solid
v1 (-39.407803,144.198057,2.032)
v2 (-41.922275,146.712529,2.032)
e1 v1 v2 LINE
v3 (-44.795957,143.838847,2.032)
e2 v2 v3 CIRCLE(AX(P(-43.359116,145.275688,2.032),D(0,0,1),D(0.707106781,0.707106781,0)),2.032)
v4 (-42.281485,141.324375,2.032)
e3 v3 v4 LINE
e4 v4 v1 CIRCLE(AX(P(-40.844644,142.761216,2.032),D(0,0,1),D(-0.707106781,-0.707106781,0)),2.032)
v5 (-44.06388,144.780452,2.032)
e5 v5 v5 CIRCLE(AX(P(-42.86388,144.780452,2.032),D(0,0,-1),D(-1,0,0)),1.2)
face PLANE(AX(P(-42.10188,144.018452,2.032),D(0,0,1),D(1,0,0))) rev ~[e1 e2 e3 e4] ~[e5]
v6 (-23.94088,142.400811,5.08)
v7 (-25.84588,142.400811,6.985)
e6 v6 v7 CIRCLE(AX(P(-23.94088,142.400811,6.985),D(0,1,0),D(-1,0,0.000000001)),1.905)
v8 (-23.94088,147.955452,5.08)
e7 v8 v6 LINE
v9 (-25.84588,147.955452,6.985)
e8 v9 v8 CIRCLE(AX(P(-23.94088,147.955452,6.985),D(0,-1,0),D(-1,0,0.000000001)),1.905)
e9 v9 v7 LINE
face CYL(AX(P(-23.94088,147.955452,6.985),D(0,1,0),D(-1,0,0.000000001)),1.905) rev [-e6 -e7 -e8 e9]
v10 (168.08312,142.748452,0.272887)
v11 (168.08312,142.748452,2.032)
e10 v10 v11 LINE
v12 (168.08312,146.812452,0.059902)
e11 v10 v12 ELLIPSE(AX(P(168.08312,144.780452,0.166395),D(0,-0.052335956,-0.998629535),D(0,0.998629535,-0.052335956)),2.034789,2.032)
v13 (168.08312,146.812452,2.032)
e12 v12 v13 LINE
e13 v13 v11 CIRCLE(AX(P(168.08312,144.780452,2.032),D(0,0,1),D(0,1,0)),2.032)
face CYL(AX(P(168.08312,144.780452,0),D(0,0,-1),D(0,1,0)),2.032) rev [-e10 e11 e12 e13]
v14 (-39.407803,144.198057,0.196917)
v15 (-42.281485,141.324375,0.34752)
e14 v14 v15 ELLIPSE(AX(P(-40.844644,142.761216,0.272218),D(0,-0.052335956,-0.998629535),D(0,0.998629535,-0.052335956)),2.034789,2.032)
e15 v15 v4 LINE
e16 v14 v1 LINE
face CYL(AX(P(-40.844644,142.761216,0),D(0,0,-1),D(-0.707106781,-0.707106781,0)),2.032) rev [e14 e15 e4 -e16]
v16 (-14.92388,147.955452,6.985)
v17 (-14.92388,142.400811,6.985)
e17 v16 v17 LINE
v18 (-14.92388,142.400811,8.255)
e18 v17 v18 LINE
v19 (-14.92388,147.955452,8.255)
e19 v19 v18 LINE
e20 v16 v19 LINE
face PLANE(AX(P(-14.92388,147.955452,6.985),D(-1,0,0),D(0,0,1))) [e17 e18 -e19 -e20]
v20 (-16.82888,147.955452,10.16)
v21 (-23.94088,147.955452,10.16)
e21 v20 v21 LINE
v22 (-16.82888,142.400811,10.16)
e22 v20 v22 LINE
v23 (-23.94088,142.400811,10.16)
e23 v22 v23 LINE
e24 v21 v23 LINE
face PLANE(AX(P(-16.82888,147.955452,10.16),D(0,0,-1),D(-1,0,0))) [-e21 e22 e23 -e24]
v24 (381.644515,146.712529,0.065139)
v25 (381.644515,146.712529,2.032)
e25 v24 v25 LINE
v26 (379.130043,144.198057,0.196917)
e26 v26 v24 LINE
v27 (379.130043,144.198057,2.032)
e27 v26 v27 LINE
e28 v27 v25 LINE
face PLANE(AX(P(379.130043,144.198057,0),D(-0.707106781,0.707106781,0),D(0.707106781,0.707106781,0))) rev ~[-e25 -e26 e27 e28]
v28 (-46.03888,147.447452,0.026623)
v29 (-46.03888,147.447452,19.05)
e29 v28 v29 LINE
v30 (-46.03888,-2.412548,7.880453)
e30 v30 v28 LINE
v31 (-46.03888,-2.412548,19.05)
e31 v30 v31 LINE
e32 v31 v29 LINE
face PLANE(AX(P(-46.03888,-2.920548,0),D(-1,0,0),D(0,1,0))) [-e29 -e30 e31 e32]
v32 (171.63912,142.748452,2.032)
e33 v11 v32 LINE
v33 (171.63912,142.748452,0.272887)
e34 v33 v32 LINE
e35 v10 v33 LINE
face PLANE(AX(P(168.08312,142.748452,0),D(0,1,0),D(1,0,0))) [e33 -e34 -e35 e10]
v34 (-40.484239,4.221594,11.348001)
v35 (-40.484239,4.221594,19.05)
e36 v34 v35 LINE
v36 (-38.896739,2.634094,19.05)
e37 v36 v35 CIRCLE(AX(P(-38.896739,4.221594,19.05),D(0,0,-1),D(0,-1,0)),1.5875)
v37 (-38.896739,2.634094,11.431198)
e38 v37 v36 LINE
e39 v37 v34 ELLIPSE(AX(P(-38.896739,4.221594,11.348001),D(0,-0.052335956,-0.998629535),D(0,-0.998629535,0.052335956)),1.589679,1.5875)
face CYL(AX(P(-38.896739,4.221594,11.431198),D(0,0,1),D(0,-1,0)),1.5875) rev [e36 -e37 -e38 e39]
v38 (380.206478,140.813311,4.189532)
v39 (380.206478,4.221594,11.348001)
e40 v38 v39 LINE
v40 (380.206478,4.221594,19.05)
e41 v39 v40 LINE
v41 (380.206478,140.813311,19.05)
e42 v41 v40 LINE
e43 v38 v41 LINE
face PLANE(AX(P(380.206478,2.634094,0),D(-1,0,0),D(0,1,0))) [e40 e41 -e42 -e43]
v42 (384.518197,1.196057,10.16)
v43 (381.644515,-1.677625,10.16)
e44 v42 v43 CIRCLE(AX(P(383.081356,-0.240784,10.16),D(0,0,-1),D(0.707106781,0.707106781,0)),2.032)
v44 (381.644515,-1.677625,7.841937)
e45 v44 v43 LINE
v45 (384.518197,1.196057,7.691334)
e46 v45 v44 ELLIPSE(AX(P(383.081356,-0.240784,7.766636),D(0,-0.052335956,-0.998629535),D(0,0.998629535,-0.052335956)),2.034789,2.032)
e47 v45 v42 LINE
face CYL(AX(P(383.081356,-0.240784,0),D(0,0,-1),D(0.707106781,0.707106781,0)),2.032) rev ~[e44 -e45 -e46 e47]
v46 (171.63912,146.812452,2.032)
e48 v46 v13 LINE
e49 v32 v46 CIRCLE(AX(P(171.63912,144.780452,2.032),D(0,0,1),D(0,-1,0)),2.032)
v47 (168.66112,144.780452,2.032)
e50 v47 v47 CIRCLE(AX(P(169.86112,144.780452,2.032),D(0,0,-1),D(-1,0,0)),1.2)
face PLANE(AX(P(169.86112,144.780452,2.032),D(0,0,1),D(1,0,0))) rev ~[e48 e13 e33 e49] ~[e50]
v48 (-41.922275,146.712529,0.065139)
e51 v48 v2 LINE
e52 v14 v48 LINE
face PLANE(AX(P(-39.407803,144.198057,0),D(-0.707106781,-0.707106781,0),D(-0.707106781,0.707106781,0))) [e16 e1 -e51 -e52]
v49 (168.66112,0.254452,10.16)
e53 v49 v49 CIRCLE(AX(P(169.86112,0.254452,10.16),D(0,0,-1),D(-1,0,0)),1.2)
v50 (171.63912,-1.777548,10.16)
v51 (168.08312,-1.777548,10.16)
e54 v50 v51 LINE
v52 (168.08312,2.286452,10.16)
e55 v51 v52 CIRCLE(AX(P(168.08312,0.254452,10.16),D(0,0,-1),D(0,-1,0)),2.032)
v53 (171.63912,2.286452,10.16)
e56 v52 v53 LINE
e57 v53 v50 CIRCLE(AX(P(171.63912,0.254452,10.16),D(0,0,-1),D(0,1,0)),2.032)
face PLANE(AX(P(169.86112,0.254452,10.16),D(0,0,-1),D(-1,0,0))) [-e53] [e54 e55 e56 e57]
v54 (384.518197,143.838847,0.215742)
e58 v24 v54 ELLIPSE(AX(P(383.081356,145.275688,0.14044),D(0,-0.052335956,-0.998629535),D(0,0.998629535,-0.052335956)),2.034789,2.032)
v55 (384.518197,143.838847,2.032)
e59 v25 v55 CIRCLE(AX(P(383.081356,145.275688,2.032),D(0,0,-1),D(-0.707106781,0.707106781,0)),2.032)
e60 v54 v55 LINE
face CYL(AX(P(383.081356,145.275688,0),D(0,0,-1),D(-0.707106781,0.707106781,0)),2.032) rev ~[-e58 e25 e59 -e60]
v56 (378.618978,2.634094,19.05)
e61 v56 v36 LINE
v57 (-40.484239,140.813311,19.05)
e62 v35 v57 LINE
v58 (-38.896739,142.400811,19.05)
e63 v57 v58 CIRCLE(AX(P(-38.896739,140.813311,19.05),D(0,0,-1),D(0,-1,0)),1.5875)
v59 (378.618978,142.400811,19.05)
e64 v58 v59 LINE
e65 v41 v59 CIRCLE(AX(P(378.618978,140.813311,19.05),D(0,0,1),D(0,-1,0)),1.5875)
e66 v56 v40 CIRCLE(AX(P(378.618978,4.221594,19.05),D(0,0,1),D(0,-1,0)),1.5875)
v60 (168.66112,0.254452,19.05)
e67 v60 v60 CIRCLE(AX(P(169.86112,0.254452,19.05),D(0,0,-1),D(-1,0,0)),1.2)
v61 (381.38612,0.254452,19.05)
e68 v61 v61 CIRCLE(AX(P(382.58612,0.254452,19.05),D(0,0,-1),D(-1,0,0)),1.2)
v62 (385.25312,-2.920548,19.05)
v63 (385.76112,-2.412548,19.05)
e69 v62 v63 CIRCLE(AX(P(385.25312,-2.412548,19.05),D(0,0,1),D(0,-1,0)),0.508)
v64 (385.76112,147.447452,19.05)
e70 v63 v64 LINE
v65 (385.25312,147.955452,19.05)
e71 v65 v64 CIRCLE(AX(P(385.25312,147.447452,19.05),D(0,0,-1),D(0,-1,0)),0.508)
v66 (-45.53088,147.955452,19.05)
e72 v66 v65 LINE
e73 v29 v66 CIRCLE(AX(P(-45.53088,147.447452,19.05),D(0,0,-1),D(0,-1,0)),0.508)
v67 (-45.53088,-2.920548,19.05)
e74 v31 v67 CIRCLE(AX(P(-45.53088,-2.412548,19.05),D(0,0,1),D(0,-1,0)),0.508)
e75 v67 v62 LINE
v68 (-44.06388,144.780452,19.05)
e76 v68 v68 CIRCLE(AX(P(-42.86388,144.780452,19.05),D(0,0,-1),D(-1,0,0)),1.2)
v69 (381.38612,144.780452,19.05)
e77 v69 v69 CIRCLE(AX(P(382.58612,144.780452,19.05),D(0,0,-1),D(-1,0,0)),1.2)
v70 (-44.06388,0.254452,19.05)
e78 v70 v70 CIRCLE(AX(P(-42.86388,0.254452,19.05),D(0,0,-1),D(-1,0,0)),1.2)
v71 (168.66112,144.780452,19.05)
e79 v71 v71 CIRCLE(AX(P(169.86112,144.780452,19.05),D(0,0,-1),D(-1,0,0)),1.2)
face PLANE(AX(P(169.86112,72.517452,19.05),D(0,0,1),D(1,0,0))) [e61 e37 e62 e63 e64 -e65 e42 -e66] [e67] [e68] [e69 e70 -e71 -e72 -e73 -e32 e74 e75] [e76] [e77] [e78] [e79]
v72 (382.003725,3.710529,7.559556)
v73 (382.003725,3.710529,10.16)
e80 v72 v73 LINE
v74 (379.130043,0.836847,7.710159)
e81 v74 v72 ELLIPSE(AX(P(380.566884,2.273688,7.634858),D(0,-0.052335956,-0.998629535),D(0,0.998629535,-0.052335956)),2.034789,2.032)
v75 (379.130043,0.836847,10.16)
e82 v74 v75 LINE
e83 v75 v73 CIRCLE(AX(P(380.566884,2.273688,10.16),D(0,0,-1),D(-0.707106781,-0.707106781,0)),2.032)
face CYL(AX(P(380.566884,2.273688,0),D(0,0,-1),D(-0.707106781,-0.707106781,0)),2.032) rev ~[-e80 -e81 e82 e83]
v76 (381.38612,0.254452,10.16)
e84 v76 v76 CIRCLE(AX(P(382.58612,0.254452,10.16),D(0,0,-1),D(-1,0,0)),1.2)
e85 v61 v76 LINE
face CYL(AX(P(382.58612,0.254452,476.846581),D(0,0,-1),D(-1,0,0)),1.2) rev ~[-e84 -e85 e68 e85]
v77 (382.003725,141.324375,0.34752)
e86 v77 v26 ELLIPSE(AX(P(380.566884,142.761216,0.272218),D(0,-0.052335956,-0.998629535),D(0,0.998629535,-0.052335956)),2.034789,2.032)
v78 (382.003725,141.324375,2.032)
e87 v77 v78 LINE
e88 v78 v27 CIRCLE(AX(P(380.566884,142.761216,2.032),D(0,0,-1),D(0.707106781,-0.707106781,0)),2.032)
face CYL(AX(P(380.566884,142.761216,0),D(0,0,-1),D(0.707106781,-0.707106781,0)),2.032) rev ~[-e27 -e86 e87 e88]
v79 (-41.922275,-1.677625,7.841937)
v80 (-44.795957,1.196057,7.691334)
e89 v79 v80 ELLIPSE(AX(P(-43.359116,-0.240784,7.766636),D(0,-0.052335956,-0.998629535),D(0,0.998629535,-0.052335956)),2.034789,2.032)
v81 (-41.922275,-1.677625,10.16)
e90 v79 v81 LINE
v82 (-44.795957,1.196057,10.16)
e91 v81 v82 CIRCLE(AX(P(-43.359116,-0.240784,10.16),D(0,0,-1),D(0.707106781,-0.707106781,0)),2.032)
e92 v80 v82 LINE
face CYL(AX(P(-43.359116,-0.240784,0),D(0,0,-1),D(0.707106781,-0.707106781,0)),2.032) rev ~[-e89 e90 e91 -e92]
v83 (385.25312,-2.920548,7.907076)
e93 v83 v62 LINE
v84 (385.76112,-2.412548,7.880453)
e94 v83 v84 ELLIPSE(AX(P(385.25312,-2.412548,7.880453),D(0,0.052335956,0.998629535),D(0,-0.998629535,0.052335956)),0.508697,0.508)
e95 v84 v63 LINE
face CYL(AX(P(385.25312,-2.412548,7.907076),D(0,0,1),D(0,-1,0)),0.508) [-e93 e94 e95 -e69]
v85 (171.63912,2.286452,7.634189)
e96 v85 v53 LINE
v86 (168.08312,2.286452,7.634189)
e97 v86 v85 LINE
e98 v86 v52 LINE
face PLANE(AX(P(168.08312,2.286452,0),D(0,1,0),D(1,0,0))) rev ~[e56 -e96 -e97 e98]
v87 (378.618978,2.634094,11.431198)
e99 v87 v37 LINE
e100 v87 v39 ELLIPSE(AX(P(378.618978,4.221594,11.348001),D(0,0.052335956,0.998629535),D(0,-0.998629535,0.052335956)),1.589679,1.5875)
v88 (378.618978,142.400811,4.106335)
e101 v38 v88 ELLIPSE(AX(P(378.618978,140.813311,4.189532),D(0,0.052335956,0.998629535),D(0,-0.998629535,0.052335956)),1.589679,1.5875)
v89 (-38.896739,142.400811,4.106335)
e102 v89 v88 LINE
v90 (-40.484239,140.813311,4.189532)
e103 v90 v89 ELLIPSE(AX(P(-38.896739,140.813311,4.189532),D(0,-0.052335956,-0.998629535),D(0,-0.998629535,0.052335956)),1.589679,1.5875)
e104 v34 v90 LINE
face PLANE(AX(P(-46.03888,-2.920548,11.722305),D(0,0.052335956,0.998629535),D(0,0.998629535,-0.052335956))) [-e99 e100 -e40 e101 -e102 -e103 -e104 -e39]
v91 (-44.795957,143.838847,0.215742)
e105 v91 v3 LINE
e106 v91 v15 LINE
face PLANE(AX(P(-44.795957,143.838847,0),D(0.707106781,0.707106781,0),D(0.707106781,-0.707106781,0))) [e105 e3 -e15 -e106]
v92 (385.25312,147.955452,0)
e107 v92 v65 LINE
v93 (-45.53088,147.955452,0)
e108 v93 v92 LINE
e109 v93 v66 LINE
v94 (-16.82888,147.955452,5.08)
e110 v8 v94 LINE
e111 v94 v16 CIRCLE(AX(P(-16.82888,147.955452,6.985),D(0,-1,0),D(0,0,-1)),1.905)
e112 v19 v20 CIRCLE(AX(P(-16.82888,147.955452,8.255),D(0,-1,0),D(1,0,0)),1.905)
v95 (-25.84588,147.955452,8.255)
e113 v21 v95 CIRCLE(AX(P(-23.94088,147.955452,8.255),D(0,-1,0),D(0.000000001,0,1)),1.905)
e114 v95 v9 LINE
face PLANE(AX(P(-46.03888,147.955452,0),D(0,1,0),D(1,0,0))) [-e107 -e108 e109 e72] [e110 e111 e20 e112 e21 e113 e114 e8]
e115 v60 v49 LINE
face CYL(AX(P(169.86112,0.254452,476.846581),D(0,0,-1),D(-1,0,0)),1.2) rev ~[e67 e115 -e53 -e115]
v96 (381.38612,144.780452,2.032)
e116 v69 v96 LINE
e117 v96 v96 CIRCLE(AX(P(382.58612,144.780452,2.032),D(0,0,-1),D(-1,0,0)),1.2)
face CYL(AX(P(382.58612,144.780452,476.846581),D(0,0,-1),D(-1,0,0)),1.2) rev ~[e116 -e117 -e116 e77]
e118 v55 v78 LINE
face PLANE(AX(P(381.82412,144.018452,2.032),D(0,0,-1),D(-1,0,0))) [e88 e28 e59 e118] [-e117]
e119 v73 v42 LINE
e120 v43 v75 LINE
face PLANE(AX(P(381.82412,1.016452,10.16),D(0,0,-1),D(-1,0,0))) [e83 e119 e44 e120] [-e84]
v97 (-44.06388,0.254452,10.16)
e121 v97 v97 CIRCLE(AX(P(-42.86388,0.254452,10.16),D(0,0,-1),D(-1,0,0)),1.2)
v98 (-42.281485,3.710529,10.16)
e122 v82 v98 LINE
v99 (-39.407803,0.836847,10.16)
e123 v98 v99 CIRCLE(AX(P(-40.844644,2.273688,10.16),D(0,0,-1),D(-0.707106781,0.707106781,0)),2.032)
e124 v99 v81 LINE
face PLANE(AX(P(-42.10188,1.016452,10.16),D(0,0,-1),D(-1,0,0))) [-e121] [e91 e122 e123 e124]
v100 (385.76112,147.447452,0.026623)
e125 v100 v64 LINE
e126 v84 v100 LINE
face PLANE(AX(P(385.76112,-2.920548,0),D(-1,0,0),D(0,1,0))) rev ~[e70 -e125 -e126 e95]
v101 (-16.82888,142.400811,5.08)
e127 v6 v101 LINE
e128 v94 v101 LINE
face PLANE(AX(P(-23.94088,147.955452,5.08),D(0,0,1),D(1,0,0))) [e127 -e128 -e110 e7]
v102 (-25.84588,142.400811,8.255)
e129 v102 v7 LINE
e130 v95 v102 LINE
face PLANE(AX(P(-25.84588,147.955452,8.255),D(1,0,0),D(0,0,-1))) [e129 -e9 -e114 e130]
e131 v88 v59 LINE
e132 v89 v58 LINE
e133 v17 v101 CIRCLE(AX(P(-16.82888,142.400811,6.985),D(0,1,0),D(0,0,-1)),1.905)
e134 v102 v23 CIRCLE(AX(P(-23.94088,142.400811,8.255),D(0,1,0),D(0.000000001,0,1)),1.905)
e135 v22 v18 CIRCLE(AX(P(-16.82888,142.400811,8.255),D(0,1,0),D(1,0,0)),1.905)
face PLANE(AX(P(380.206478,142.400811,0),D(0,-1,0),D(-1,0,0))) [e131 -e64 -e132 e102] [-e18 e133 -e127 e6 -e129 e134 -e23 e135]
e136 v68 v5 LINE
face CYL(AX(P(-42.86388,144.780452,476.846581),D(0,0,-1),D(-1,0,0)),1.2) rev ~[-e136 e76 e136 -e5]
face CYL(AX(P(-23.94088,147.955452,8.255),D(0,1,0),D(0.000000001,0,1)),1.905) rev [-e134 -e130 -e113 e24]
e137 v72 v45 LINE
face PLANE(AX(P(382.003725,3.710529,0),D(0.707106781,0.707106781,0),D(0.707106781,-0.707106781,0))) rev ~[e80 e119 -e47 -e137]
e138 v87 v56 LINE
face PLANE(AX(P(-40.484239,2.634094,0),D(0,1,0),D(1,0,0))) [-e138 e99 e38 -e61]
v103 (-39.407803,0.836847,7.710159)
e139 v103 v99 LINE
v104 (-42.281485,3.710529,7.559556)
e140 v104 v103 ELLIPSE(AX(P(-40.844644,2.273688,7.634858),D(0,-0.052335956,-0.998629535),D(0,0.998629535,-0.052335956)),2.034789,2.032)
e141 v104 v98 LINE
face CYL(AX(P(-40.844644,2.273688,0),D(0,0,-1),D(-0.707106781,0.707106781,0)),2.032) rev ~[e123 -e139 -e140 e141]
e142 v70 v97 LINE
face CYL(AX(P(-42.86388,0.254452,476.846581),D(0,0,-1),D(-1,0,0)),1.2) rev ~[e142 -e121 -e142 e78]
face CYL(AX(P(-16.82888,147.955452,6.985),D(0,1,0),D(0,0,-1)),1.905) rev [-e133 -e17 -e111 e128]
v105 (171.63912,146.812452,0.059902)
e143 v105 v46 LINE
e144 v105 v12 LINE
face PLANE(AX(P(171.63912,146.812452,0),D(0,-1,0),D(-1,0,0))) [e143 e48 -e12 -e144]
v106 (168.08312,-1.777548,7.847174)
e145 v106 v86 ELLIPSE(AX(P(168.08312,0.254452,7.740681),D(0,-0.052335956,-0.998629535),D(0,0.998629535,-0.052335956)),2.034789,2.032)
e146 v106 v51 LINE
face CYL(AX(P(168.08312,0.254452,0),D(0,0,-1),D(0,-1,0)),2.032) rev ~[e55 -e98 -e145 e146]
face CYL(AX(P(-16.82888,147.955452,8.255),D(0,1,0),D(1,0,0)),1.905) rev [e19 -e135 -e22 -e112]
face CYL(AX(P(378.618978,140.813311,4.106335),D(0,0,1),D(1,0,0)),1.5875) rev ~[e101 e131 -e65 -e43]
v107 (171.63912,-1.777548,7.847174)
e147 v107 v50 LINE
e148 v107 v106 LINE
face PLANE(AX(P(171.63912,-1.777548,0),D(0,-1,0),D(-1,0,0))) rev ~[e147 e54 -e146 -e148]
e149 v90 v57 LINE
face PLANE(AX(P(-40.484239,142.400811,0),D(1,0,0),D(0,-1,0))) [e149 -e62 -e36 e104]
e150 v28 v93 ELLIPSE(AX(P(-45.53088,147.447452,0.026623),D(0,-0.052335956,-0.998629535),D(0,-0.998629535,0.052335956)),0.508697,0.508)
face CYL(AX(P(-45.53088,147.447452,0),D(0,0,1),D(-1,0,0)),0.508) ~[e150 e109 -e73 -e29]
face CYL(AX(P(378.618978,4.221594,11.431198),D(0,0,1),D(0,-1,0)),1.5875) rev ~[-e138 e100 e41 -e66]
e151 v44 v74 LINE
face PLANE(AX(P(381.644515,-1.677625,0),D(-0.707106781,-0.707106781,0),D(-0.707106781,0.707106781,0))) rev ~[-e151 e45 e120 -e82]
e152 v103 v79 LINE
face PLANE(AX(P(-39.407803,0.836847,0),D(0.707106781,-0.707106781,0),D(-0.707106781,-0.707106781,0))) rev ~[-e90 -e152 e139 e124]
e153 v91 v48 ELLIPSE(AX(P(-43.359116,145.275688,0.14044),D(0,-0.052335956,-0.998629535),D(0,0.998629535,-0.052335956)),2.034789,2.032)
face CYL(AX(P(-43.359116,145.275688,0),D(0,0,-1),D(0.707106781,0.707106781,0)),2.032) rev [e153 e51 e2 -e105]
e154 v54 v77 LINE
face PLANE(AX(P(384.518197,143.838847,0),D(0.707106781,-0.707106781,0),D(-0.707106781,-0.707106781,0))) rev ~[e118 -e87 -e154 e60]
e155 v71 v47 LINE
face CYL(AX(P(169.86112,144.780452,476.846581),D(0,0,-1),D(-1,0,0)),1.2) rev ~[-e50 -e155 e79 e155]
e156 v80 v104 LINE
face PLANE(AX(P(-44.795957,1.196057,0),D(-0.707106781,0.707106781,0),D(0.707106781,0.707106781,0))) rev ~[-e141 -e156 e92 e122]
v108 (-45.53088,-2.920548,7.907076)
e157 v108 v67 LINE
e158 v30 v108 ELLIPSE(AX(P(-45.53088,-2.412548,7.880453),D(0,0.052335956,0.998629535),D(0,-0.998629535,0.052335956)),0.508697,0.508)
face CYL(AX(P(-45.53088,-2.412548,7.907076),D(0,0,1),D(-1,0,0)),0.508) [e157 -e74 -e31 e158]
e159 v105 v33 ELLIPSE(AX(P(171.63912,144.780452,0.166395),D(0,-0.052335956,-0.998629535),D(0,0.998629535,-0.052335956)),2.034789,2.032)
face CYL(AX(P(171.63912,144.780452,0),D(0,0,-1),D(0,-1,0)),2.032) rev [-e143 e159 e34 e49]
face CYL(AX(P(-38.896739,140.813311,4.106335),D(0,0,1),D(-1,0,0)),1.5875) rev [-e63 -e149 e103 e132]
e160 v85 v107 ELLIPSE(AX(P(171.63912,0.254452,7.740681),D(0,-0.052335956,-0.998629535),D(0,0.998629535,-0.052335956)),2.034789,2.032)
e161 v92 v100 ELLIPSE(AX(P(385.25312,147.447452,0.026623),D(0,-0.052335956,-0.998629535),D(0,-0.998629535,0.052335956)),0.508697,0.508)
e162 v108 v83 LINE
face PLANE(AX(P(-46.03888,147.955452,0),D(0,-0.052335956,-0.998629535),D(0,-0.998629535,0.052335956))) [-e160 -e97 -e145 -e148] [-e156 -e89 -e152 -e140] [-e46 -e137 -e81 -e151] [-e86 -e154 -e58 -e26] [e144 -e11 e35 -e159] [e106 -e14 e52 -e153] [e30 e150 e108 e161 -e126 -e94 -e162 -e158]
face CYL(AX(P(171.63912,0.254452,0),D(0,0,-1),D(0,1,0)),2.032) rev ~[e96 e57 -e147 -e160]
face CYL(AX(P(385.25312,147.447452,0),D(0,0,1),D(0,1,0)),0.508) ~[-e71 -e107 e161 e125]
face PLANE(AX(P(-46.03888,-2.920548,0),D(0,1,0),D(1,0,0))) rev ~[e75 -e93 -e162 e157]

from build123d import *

# Parameters (mm, degrees)
SKETCH3_W               = 431.8
SKETCH3_H               = 150.876
BOSS_EXTRUDE2_DEPTH     = 19.05
CUT_EXTRUDE4_DEPTH      = 432.8
SKETCH3_25_W            = 197.6453584
SKETCH3_25_H            = 139.766716802
SKETCH3_25_W_2          = 25.4
SKETCH3_25_W_3          = 197.645358401
CUT_EXTRUDE5_DEPTH      = 20.05
CUT_EXTRUDE5_DEPTH_BACK = 1
BOSS_EXTRUDE3_REACH     = 433.8
M2_CLEARANCE_HOLE1_D    = 2.4
CUT_EXTRUDE8_DEPTH      = 10.16
CUT_EXTRUDE9_DEPTH      = 2.032
FILLET7_R               = 1.5875
FILLET8_R               = 0.508
CUT_EXTRUDE10_REACH     = 152.876


with BuildPart() as part:
    # Sketch3 → Boss-Extrude2 (new body)
    with BuildSketch(Plane.XY):
        with Locations((169.861119801, 72.517452108)):
            Rectangle(SKETCH3_W, SKETCH3_H)
    extrude(amount=BOSS_EXTRUDE2_DEPTH)

    # Sketch11 → Cut-Extrude4 (cut, through all)
    with BuildSketch(Plane.ZY.offset(46.038880199)):
        Polygon((7.907076107, -2.920547892), (0, 147.955452108), (0, -2.920547892), align=None)
    extrude(amount=-CUT_EXTRUDE4_DEPTH, mode=Mode.SUBTRACT)

    # Sketch3<25> → Cut-Extrude5 (cut, two sides)
    with BuildSketch(Plane.XY) as cut_extrude5_sk:
        with Locations((281.383799001, 72.517452108)):
            Rectangle(SKETCH3_25_W, SKETCH3_25_H)
        with Locations((169.861119801, 72.517452108)):
            Rectangle(SKETCH3_25_W_2, SKETCH3_25_H)
        with Locations((58.338440601, 72.517452108)):
            Rectangle(SKETCH3_25_W_3, SKETCH3_25_H)
        with BuildLine():
            Line((-38.844861429, 142.400810509), (-40.4842386, 142.400810509))
            Line((-40.4842386, 142.400810509), (-40.4842386, 140.761433338))
            ThreePointArc((-40.4842386, 140.761433338), (-39.407803363, 141.324375272), (-38.844861429, 142.400810509))
        make_face()
        with BuildLine():
            ThreePointArc((-38.844861429, 2.634093707), (-39.407803363, 3.710528944), (-40.4842386, 4.273470879))
            Line((-40.4842386, 4.273470879), (-40.4842386, 2.634093707))
            Line((-40.4842386, 2.634093707), (-38.844861429, 2.634093707))
        make_face()
        with BuildLine():
            ThreePointArc((380.206478201, 4.273470879), (379.130042964, 3.710528944), (378.56710103, 2.634093707))
            Line((378.56710103, 2.634093707), (380.206478201, 2.634093707))
            Line((380.206478201, 2.634093707), (380.206478201, 4.273470879))
        make_face()
        with BuildLine():
            Line((380.206478201, 142.400810509), (378.56710103, 142.400810509))
            ThreePointArc((378.56710103, 142.400810509), (379.130042964, 141.324375272), (380.206478201, 140.761433338))
            Line((380.206478201, 140.761433338), (380.206478201, 142.400810509))
        make_face()
    extrude(amount=CUT_EXTRUDE5_DEPTH, mode=Mode.SUBTRACT)
    extrude(cut_extrude5_sk.sketch, amount=-CUT_EXTRUDE5_DEPTH_BACK, mode=Mode.SUBTRACT)

    # Sketch11<3> → Boss-Extrude3 (add, up to next)
    with BuildSketch(Plane.ZY.offset(46.038880199), mode=Mode.PRIVATE) as boss_extrude3_sk1:
        Polygon((3.815228638, 147.955452108), (0, 147.955452108), (7.907076107, -2.920547892), (11.722304745, -2.920547892), align=None)
    boss_extrude3_tool1 = extrude(boss_extrude3_sk1.sketch, amount=-BOSS_EXTRUDE3_REACH, mode=Mode.PRIVATE) - part.part
    add(boss_extrude3_tool1.solids().sort_by_distance((-46.03888, 72.517452, 5.861152))[0])

    # M2 Clearance Hole1 (through all)
    with Locations(Plane.XY.offset(19.05)):
        with Locations((-42.863880199, 144.780452108), (169.861119801, 144.780452108), (382.586119801, 144.780452108), (382.586119801, 0.254452108), (169.861119801, 0.254452108), (-42.863880199, 0.254452108)):
            Hole(M2_CLEARANCE_HOLE1_D / 2)

    # Sketch3<27> → Cut-Extrude8 (cut)
    with BuildSketch(Plane.XY):
        with BuildLine():
            Line((-44.795957036, 1.196057231), (-42.281485322, 3.710528944))
            ThreePointArc((-42.281485322, 3.710528944), (-39.407803363, 3.710528944), (-39.407803363, 0.836846986))
            Line((-39.407803363, 0.836846986), (-41.922275077, -1.677624728))
            ThreePointArc((-41.922275077, -1.677624728), (-44.795957036, -1.677624728), (-44.795957036, 1.196057231))
        make_face()
        with BuildLine():
            Line((168.083119801, 2.286452108), (171.639119801, 2.286452108))
            ThreePointArc((171.639119801, 2.286452108), (173.671119801, 0.254452108), (171.639119801, -1.777547892))
            Line((171.639119801, -1.777547892), (168.083119801, -1.777547892))
            ThreePointArc((168.083119801, -1.777547892), (166.051119801, 0.254452108), (168.083119801, 2.286452108))
        make_face()
        with BuildLine():
            Line((382.003724923, 3.710528944), (384.518196637, 1.196057231))
            ThreePointArc((384.518196637, 1.196057231), (384.518196637, -1.677624728), (381.644514678, -1.677624728))
            Line((381.644514678, -1.677624728), (379.130042964, 0.836846986))
            ThreePointArc((379.130042964, 0.836846986), (379.130042964, 3.710528944), (382.003724923, 3.710528944))
        make_face()
    extrude(amount=CUT_EXTRUDE8_DEPTH, mode=Mode.SUBTRACT)

    # Sketch3<28> → Cut-Extrude9 (cut)
    with BuildSketch(Plane.XY):
        with BuildLine():
            Line((168.083119801, 142.748452108), (171.639119801, 142.748452108))
            ThreePointArc((171.639119801, 142.748452108), (173.671119801, 144.780452108), (171.639119801, 146.812452108))
            Line((171.639119801, 146.812452108), (168.083119801, 146.812452108))
            ThreePointArc((168.083119801, 146.812452108), (166.051119801, 144.780452108), (168.083119801, 142.748452108))
        make_face()
        with BuildLine():
            Line((379.130042964, 144.198057231), (381.644514678, 146.712528944))
            ThreePointArc((381.644514678, 146.712528944), (384.518196637, 146.712528944), (384.518196637, 143.838846986))
            Line((384.518196637, 143.838846986), (382.003724923, 141.324375272))
            ThreePointArc((382.003724923, 141.324375272), (379.130042964, 141.324375272), (379.130042964, 144.198057231))
        make_face()
        with BuildLine():
            Line((-44.795957036, 143.838846986), (-42.281485322, 141.324375272))
            ThreePointArc((-42.281485322, 141.324375272), (-39.407803363, 141.324375272), (-39.407803363, 144.198057231))
            Line((-39.407803363, 144.198057231), (-41.922275077, 146.712528944))
            ThreePointArc((-41.922275077, 146.712528944), (-44.795957036, 146.712528944), (-44.795957036, 143.838846986))
        make_face()
    extrude(amount=CUT_EXTRUDE9_DEPTH, mode=Mode.SUBTRACT)

    # Fillet7
    fillet7_edges = [part.edges().sort_by_distance(p)[0] for p in [
        (380.206478201, 2.634093707, 15.240599157),
        (380.206478201, 142.400810509, 11.578167535),
        (-40.4842386, 142.400810509, 11.578167535),
        (-40.4842386, 2.634093707, 15.240599157),
    ]]
    fillet(fillet7_edges, radius=FILLET7_R)

    # Fillet8
    fillet8_edges = [part.edges().sort_by_distance(p)[0] for p in [
        (385.761119801, 147.955452108, 9.525),
        (-46.038880199, 147.955452108, 9.525),
        (-46.038880199, -2.920547892, 13.478538054),
        (385.761119801, -2.920547892, 13.478538054),
    ]]
    fillet(fillet8_edges, radius=FILLET8_R)

    # Sketch18 → Cut-Extrude10 (cut, up to next)
    with BuildSketch(Plane(origin=(0, 147.955452108, 0), x_dir=(1, 0, 0), z_dir=(0, 1, 0)), mode=Mode.PRIVATE) as cut_extrude10_sk1:
        with BuildLine():
            Line((-16.828880199, -10.16), (-23.940880199, -10.16))
            ThreePointArc((-23.940880199, -10.16), (-25.287918618, -9.602038418), (-25.845880199, -8.255))
            Line((-25.845880199, -8.255), (-25.845880199, -6.985))
            ThreePointArc((-25.845880199, -6.985), (-25.287918618, -5.637961582), (-23.940880199, -5.08))
            Line((-23.940880199, -5.08), (-16.828880199, -5.08))
            ThreePointArc((-16.828880199, -5.08), (-15.481841781, -5.637961582), (-14.923880199, -6.985))
            Line((-14.923880199, -6.985), (-14.923880199, -8.255))
            ThreePointArc((-14.923880199, -8.255), (-15.481841781, -9.602038418), (-16.828880199, -10.16))
        make_face()
    cut_extrude10_tool1 = extrude(cut_extrude10_sk1.sketch, amount=-CUT_EXTRUDE10_REACH, mode=Mode.PRIVATE) & part.part
    add(cut_extrude10_tool1.solids().sort_by_distance((-20.38488, 147.955452, 7.62))[0], mode=Mode.SUBTRACT)


solid = part.part
